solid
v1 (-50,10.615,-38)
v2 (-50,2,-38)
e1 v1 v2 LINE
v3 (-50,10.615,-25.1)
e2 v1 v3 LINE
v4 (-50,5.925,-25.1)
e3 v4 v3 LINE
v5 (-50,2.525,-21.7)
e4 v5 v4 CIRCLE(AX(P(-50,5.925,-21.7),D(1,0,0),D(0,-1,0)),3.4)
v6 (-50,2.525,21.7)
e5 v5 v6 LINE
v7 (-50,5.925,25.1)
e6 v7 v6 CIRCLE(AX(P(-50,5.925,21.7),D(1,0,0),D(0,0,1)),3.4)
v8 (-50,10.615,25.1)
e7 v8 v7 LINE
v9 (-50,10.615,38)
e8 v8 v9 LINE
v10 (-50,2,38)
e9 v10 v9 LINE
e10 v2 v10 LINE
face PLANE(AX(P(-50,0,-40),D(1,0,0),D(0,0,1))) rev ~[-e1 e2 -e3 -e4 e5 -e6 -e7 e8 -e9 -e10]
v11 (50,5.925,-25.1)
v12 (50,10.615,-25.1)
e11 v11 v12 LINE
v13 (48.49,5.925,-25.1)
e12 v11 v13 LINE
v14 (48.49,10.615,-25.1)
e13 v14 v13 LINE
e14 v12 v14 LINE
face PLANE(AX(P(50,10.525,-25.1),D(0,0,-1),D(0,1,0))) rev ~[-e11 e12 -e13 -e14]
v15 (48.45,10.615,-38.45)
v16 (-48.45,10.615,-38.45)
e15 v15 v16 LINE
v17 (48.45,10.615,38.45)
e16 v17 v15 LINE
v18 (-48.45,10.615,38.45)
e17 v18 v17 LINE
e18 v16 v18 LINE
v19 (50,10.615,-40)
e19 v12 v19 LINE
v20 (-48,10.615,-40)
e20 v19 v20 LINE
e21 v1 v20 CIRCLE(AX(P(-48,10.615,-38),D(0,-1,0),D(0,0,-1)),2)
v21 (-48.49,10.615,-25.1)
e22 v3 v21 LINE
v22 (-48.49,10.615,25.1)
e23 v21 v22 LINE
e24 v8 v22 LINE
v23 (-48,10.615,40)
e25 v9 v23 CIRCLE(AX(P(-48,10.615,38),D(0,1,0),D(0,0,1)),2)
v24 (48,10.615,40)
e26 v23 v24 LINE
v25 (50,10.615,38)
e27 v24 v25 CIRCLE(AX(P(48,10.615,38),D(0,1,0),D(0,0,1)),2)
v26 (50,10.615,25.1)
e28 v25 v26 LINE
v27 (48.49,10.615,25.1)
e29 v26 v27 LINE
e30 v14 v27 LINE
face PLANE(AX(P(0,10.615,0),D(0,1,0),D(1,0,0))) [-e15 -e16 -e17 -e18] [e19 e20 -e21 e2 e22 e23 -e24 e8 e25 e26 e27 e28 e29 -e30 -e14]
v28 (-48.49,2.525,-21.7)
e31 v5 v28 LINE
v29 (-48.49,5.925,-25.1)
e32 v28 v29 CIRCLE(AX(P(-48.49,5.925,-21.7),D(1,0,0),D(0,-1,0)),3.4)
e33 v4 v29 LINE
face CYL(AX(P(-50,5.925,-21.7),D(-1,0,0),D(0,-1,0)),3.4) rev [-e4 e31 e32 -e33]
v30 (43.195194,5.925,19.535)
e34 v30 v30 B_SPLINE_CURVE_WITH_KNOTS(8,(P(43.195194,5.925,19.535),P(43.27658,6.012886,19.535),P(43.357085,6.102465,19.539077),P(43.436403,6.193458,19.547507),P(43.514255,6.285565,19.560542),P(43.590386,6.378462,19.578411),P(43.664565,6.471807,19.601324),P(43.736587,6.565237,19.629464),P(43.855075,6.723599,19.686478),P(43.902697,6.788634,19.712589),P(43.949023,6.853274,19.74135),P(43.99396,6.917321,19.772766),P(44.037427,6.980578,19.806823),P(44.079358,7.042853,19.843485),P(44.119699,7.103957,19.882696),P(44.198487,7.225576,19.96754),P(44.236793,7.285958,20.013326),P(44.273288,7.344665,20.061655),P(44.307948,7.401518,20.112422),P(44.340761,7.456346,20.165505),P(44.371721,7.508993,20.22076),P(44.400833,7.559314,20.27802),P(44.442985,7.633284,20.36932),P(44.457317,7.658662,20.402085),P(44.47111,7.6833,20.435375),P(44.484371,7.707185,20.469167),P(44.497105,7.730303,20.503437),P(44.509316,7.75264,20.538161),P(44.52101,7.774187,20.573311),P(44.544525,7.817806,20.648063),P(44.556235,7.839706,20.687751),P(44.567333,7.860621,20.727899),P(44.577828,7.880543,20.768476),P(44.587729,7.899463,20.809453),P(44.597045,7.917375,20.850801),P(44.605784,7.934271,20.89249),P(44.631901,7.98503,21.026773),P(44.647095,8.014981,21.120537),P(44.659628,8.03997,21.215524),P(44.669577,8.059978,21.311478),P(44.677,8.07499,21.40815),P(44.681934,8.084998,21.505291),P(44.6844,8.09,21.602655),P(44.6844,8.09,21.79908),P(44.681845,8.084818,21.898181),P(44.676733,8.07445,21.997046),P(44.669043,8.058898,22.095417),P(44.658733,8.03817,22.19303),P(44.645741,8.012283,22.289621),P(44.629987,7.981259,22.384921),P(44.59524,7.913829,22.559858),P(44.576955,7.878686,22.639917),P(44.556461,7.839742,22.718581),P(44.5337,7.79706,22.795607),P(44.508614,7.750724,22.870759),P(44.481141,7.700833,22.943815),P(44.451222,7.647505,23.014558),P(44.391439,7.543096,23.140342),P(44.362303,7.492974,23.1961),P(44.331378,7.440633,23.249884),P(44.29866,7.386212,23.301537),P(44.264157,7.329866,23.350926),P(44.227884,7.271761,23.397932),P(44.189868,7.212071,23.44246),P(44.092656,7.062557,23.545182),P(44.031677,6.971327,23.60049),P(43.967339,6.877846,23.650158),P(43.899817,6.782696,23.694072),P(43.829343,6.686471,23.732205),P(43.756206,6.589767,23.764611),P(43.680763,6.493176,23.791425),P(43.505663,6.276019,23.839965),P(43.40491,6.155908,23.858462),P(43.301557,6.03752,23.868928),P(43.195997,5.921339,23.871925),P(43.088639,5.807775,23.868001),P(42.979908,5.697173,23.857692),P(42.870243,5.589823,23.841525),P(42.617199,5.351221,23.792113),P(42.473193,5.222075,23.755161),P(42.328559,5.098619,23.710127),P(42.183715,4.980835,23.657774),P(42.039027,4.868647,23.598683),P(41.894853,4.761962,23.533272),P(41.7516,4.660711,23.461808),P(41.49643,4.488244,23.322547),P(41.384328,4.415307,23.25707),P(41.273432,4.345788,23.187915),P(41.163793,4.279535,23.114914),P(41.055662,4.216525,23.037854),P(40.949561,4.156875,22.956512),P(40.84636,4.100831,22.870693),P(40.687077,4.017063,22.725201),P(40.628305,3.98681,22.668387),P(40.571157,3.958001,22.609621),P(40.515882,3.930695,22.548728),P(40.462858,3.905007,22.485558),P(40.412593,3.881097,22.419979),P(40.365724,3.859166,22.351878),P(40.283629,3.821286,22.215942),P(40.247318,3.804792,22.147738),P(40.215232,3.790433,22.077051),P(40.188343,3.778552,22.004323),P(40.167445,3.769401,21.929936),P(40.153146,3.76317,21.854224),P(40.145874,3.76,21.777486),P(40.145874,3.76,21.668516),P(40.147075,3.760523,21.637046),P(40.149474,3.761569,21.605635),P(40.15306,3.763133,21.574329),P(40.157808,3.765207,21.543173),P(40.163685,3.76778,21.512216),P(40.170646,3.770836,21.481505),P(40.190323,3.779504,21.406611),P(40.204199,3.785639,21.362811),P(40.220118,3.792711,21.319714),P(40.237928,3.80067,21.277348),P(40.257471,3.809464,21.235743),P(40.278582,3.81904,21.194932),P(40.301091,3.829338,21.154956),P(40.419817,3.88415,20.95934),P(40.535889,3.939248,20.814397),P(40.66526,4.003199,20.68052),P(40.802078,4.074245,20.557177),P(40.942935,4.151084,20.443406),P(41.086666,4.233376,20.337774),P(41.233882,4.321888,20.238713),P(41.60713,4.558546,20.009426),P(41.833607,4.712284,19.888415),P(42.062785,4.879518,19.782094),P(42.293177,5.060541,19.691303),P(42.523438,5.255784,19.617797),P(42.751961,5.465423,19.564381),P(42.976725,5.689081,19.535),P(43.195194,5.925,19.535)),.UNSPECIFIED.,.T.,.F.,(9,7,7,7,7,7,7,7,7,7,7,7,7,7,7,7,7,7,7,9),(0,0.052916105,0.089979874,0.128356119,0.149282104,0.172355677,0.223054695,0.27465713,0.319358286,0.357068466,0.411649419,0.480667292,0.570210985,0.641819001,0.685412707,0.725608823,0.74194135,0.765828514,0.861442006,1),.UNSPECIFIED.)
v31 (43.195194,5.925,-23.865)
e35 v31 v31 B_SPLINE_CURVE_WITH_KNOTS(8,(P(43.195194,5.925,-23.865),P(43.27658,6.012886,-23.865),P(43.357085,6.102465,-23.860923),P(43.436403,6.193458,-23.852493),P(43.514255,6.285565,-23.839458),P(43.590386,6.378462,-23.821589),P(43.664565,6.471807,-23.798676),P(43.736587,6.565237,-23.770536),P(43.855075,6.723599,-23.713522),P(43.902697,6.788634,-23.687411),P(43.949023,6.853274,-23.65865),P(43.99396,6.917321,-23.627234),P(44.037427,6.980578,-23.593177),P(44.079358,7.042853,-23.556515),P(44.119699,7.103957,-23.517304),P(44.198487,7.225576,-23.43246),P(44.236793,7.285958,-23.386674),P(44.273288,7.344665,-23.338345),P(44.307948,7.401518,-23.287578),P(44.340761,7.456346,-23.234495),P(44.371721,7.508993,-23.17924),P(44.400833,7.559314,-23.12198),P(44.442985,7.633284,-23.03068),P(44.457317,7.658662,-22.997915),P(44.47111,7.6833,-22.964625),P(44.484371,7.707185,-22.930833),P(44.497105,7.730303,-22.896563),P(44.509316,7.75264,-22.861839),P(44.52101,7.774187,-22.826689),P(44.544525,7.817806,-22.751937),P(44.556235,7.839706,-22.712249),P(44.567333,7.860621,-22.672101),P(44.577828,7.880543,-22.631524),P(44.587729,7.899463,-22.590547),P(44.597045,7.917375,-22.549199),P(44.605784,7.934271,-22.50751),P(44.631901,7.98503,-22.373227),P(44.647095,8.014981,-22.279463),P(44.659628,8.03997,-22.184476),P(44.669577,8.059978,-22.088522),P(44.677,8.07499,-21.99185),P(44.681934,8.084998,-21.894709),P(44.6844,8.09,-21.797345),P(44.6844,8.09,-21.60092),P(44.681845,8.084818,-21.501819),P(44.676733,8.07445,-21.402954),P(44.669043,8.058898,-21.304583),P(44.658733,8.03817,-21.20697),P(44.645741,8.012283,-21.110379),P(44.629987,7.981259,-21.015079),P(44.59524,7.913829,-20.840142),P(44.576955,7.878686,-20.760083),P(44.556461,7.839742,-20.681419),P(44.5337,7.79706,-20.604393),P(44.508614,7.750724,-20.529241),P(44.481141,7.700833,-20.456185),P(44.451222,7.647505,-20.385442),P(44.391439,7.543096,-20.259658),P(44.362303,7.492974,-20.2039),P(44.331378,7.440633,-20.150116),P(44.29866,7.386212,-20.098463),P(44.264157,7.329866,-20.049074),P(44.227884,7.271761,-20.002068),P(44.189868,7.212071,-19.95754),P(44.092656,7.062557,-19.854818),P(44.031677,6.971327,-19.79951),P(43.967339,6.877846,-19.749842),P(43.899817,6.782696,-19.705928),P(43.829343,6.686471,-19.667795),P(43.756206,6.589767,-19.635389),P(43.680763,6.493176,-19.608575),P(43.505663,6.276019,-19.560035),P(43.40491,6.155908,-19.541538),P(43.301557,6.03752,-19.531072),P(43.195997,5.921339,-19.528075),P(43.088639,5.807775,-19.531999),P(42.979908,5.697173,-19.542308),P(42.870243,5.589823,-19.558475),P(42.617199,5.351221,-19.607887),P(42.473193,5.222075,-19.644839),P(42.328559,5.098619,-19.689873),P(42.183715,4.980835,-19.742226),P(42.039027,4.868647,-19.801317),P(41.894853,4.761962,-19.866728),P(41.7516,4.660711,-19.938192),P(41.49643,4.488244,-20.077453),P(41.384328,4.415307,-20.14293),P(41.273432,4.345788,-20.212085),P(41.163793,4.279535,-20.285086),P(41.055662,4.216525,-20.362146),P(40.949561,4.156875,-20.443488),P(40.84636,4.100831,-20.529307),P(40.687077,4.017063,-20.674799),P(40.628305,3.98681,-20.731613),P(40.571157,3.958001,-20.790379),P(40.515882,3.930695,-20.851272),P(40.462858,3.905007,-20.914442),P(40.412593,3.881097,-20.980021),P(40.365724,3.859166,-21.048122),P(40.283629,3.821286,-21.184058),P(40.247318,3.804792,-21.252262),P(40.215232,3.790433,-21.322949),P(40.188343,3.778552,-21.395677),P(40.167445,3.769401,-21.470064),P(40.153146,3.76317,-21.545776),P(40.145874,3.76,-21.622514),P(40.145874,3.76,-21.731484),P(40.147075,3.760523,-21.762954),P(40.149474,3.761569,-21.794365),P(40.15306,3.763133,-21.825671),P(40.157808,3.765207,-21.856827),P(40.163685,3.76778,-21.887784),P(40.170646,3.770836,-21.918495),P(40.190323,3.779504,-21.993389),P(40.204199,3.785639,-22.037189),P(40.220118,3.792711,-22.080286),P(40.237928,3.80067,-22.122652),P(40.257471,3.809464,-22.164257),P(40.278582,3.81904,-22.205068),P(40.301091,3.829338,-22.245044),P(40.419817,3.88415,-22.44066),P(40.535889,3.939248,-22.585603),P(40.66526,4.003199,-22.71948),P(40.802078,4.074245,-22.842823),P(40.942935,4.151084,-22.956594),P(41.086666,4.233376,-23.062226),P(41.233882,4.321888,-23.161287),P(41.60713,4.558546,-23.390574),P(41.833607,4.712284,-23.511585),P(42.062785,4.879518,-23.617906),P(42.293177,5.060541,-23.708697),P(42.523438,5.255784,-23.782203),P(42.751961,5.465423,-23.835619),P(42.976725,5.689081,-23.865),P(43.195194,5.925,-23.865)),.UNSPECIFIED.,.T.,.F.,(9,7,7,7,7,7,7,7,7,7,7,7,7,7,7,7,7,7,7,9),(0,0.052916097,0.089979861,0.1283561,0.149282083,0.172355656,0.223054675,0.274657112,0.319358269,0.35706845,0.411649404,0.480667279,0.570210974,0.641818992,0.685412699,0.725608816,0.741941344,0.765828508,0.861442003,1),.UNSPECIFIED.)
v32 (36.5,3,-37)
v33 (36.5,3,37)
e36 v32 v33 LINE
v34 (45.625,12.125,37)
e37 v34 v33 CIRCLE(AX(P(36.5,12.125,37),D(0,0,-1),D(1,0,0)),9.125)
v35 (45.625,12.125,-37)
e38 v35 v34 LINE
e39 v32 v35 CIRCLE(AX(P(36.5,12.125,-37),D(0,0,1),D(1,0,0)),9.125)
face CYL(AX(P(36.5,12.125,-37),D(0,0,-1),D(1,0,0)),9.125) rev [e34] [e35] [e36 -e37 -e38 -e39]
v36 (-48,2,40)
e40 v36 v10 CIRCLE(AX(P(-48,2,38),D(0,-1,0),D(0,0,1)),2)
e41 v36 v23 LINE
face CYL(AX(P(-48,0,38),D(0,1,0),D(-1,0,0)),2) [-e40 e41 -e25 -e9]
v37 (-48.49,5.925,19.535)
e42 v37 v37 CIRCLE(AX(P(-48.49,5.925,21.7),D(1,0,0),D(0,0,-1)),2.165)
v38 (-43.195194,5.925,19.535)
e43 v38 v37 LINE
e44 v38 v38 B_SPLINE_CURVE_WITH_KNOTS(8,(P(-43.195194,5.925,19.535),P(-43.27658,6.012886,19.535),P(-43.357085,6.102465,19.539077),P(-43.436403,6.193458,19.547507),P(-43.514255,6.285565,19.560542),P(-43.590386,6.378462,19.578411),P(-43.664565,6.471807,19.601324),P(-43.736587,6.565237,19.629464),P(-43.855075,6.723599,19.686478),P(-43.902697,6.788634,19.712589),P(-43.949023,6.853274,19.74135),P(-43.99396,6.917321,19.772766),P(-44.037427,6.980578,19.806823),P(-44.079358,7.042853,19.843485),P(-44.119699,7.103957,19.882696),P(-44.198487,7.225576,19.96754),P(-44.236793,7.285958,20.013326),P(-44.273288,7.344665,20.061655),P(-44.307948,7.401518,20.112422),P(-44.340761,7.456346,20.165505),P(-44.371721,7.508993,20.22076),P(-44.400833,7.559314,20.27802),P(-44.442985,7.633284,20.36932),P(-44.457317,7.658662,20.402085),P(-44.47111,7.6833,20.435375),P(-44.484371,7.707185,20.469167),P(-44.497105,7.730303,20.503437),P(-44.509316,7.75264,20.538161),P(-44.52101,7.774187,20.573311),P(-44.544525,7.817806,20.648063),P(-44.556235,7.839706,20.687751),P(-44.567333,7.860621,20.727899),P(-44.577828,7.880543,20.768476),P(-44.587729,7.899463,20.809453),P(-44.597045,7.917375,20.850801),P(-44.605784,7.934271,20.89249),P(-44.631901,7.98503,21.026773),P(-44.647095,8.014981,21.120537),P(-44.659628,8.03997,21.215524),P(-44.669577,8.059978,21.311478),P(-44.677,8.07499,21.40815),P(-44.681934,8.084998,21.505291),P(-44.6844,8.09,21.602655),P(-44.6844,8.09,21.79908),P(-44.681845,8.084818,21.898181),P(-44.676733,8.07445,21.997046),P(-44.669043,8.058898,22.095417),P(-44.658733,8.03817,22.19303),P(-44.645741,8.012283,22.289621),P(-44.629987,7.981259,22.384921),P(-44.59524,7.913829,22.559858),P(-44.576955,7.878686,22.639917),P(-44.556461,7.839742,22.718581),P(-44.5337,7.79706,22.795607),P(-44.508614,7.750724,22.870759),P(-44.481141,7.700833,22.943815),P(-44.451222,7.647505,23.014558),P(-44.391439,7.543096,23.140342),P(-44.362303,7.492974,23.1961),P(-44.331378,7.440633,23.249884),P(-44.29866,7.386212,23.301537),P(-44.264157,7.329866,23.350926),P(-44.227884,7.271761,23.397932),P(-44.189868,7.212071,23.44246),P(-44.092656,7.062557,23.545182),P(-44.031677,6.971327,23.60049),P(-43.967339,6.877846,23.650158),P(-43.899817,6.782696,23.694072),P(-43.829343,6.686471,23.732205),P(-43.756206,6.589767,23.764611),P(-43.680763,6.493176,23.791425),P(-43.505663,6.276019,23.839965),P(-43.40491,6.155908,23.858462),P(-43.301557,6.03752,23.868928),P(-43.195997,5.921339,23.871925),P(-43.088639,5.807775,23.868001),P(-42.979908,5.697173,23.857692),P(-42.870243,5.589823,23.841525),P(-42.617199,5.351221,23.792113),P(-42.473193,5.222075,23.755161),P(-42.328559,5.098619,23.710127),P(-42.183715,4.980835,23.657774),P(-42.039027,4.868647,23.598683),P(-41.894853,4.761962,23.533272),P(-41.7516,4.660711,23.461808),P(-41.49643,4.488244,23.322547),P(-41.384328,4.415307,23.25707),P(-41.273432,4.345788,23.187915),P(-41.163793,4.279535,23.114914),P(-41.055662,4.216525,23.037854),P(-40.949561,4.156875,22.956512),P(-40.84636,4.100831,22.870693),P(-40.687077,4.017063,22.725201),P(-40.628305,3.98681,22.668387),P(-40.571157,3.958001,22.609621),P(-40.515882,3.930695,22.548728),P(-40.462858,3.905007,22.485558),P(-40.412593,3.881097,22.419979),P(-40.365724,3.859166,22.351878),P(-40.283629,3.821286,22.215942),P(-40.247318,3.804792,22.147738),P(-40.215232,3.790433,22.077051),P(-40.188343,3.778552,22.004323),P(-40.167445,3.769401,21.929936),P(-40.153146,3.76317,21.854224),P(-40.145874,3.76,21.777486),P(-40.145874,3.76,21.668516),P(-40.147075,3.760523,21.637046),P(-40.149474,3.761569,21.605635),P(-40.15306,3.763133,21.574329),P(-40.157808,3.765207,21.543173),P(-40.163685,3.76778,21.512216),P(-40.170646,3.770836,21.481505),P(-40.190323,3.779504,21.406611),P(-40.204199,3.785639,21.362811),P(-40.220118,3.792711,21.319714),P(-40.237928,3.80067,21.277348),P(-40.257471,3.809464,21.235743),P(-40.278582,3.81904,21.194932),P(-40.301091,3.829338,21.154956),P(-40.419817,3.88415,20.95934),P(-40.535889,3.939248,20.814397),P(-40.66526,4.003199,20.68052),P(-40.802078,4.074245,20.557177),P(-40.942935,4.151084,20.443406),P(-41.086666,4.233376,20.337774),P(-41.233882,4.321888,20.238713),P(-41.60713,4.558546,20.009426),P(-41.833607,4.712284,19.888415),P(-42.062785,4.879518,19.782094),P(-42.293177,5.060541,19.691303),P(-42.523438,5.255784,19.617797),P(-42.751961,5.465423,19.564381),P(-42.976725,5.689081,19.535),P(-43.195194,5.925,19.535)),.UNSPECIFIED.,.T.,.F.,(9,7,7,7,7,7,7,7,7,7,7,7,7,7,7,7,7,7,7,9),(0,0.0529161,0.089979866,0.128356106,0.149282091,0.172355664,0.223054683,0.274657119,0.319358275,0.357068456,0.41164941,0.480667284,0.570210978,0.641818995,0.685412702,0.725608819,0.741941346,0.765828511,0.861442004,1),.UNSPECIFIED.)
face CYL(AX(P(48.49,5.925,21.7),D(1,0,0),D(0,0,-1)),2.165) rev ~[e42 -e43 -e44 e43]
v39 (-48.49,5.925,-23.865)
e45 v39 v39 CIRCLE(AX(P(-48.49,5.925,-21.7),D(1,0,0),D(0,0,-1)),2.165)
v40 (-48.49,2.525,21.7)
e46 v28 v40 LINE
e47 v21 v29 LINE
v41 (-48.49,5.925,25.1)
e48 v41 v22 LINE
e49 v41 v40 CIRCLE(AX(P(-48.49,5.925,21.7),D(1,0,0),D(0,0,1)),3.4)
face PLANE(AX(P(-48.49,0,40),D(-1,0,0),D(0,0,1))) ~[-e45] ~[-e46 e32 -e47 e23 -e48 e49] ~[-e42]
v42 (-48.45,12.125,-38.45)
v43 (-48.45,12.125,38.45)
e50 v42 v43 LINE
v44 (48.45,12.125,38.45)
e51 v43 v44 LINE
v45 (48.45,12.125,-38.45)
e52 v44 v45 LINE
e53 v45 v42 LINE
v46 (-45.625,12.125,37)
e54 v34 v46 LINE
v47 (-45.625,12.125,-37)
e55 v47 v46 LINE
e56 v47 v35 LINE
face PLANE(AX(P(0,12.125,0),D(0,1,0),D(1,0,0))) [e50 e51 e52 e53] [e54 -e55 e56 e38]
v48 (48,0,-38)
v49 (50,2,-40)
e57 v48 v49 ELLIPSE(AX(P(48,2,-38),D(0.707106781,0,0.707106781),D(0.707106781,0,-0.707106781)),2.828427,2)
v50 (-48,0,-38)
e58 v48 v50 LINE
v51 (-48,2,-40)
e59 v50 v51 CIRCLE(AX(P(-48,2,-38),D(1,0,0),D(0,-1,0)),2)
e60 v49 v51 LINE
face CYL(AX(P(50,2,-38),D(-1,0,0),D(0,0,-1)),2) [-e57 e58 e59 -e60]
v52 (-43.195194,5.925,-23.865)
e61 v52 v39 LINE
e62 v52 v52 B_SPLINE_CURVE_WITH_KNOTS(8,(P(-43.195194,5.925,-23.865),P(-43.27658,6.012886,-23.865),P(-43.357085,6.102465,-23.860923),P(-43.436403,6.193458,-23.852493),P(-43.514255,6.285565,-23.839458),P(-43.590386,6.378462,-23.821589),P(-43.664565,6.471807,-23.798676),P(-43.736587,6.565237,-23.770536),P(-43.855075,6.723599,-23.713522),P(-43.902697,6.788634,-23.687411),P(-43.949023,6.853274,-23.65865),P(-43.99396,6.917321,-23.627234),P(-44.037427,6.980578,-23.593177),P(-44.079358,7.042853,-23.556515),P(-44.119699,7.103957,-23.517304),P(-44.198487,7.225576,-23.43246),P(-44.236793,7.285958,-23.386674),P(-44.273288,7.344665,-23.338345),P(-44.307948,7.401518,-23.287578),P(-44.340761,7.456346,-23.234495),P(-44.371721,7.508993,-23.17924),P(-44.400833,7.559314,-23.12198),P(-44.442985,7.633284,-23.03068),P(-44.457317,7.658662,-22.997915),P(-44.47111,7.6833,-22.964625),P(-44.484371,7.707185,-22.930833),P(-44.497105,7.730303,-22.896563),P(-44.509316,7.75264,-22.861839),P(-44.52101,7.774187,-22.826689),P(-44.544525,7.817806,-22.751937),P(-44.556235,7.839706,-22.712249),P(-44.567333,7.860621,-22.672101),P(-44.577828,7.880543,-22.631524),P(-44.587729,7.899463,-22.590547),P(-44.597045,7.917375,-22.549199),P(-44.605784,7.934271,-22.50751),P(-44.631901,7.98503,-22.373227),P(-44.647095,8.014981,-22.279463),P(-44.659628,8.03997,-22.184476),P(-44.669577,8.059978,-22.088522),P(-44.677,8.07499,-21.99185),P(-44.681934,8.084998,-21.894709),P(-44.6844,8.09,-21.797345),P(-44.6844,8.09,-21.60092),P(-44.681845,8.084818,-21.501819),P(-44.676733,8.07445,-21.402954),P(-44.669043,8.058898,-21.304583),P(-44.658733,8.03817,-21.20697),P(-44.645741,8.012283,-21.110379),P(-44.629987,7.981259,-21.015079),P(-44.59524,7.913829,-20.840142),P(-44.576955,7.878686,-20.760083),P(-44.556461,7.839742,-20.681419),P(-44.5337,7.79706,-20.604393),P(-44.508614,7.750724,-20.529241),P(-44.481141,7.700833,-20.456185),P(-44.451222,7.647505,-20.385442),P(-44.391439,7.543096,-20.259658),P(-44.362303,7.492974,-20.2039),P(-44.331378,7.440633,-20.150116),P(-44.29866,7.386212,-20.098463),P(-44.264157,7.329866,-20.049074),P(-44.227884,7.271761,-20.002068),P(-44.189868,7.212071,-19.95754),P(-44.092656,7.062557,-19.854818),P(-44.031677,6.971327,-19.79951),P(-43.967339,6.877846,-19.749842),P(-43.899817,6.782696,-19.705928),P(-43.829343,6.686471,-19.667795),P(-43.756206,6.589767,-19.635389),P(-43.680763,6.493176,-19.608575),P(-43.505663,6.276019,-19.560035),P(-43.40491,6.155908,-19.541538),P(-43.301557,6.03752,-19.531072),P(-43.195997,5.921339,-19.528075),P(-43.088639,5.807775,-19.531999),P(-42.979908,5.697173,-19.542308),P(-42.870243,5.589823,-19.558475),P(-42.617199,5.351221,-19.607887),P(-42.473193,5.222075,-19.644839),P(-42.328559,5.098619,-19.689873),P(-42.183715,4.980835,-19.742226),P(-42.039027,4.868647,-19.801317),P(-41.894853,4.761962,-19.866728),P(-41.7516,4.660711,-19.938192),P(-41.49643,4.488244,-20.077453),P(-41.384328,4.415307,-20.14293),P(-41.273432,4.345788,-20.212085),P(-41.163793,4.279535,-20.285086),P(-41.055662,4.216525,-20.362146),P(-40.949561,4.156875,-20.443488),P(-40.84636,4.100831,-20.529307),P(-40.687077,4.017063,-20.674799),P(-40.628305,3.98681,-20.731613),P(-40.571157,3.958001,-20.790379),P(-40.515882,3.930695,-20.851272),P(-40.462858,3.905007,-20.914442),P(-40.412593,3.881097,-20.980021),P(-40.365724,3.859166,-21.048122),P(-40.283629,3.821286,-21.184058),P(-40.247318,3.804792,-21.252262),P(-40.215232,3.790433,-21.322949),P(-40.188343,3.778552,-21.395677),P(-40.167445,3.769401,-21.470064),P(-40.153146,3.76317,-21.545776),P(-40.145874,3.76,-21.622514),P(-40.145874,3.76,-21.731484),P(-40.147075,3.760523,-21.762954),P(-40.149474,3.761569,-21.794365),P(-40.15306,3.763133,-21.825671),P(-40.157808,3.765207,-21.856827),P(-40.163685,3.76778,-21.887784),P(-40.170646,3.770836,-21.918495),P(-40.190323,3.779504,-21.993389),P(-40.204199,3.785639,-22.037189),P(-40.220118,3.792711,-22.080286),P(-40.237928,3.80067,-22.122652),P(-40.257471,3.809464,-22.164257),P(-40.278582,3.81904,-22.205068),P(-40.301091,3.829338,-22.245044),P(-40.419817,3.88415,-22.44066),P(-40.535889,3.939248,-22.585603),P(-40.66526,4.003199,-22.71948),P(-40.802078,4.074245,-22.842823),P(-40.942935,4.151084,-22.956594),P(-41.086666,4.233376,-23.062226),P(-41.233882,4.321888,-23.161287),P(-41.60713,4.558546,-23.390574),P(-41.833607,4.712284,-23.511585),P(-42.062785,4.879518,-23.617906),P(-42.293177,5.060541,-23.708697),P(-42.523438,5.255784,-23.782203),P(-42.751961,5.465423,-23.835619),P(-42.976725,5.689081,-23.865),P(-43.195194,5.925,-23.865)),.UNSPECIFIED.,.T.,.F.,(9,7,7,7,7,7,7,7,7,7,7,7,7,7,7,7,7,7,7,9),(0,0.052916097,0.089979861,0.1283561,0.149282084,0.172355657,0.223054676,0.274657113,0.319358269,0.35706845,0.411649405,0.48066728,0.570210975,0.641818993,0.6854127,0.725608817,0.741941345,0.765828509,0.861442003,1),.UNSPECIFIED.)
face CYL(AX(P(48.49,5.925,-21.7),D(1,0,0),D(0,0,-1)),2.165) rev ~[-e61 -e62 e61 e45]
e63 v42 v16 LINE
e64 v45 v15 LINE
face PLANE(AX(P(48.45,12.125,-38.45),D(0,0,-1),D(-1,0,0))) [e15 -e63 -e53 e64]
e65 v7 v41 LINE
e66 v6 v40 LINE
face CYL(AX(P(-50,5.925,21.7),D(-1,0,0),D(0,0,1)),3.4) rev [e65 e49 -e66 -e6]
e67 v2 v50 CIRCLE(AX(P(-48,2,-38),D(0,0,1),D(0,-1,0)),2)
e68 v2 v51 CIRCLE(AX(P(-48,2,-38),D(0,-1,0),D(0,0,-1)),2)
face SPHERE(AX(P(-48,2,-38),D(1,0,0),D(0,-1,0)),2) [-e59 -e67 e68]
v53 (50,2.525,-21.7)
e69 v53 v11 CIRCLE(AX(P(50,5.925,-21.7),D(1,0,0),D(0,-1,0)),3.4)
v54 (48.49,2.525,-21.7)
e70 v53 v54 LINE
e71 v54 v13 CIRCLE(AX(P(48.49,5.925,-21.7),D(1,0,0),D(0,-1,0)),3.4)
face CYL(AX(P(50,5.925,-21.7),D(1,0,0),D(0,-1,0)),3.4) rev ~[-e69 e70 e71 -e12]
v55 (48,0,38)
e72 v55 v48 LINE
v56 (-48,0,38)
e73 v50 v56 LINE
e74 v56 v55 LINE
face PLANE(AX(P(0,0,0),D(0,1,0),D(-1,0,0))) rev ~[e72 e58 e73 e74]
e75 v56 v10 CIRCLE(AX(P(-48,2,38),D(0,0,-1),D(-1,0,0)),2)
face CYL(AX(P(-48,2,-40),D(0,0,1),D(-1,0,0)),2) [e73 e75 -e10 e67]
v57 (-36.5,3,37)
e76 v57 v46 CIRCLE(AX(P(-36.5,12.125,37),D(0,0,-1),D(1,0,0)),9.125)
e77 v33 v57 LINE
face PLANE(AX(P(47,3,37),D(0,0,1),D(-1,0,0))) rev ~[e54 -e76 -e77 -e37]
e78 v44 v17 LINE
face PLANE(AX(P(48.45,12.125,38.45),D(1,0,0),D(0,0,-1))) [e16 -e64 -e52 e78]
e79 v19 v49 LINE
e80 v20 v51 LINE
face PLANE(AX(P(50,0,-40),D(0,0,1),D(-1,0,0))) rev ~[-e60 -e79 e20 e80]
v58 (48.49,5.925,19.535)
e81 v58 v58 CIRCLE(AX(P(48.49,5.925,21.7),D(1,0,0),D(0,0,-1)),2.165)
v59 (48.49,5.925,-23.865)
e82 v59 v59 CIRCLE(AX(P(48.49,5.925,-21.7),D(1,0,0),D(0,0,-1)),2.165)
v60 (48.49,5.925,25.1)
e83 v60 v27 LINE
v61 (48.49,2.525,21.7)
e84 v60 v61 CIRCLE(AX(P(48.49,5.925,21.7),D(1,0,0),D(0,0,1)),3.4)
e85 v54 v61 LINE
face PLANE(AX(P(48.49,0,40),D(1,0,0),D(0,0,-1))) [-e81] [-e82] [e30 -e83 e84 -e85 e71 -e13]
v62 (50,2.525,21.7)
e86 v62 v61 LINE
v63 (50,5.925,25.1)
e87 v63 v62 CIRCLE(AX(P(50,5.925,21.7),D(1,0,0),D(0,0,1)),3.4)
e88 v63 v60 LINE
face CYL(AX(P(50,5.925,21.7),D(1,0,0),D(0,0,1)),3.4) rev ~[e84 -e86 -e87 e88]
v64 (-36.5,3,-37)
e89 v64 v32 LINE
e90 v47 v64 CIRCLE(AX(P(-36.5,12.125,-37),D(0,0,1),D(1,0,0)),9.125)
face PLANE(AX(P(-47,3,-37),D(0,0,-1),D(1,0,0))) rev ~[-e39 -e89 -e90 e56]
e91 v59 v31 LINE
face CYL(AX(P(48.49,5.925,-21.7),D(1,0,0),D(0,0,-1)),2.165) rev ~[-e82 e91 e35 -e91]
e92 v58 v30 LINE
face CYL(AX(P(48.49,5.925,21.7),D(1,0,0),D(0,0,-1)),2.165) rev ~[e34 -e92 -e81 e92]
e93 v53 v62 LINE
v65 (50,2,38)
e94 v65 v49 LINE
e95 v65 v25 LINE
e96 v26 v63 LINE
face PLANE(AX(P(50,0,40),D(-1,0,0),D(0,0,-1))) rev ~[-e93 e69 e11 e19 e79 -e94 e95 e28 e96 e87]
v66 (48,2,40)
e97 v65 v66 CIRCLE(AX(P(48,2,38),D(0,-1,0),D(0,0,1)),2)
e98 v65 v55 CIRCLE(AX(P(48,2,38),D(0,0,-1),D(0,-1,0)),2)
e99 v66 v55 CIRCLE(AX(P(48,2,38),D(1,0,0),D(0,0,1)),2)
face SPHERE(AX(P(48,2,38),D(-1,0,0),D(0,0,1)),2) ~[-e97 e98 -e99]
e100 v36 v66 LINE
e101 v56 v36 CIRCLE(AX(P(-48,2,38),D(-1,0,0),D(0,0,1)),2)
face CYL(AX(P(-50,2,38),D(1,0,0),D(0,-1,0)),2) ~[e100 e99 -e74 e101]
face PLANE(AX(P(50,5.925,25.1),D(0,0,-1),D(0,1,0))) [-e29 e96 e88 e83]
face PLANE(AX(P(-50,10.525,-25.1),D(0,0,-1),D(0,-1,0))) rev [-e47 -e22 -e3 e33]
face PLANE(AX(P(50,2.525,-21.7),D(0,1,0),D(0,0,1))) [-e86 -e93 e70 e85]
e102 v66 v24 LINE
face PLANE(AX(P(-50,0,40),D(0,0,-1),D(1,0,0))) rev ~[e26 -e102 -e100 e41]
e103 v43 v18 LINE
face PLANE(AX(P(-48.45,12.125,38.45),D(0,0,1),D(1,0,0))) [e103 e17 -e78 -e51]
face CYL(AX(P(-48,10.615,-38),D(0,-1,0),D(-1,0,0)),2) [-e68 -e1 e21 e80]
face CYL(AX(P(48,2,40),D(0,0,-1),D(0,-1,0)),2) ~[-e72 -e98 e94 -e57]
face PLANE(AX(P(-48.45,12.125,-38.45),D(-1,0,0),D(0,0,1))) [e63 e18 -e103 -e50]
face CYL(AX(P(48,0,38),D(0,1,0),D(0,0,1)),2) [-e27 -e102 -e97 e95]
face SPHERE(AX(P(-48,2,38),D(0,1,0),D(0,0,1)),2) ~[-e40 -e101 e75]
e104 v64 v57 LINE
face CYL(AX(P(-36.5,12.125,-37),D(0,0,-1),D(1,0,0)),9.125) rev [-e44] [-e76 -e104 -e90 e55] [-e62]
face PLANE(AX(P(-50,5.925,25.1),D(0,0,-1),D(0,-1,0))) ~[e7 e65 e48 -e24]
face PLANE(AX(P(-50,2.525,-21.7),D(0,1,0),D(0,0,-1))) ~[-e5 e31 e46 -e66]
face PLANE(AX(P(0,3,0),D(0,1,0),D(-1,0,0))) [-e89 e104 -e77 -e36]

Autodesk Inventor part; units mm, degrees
ref_plane "YZ Plane" through (0, 0, 0) normal (1, 0, 0) x (0, 1, 0)
ref_plane "XZ Plane" through (0, 0, 0) normal (0, 1, 0) x (-1, 0, 0)
ref_plane "XY Plane" through (0, 0, 0) normal (0, 0, 1) x (1, 0, 0)
sketch "草圖1" plane through (0, 0, 0) normal (0, 1, 0) x (-1, 0, 0)
  line L0 (50, 40) -> (-50, 40)
  line L1 (-50, 40) -> (-50, -40)
  line L2 (-50, -40) -> (50, -40)
  line L3 (50, -40) -> (50, 40)
  line L4 (50, 40) -> (-50, -40) construction
  line L5 (-50, 40) -> (50, -40) construction
  point P0 (0, 0)
  dimension "d0" = 100
  dimension "d1" = 80
extrude "擠出1" add sketch "草圖1" along normal blind 3
sketch "草圖2" plane through (0, 3, 0) normal (0, 1, 0) x (1, 0, 0)
  line L0 (50, -40) -> (50, 40) projected
  line L1 (50, 40) -> (-50, 40) projected
  line L2 (-50, 40) -> (-50, -40) projected
  line L3 (-50, -40) -> (50, -40) projected
  line L4 (-47, -37) -> (-47, 37)
  line L5 (-47, 37) -> (47, 37)
  line L6 (47, 37) -> (47, -37)
  line L7 (47, -37) -> (-47, -37)
  point P0 (0, 0)
  dimension "d4" = 3
extrude "擠出2" add sketch "草圖2" along normal blind 9.125
sketch "草圖3" plane through (-47, 3, -37) normal (0, 0, 1) x (1, 0, 0)
  line L0 (94, 0) -> (0, 0) projected
  line L1 (94, 0) -> (94, 9.125) projected
  line L2 (0, 9.125) -> (94, 9.125) projected
  line L3 (0, 0) -> (0, 9.125) projected
  circle A0 centre (10.5, 9.125) radius 9.125
  circle A1 centre (28.75, 9.125) radius 9.125
  circle A2 centre (47, 9.125) radius 9.125
  circle A3 centre (65.25, 9.125) radius 9.125
  circle A4 centre (83.5, 9.125) radius 9.125
  point P0 (47, -3)
  point P1 (92.625, 9.125)
  point P2 (83.5, 0)
  point P3 (10.5, 0)
  point P4 (1.375, 9.125)
  dimension "d7" = 18.25
  dimension "d11" = 18.25
  dimension "d16" = 10.5
extrude "擠出3" add sketch "草圖3" along normal through all contours L0 A4 L2 L1 | L0 L3 L2 A0
sketch "草圖4" plane through (0, 12.125, 0) normal (0, 1, 0) x (1, 0, 0)
  line L0 (-50, -40) -> (50, -40) projected
  line L1 (50, -40) -> (50, 40) projected
  line L2 (50, 40) -> (-50, 40) projected
  line L3 (-50, 40) -> (-50, -40) projected
  line L4 (45.625, -37) -> (-45.625, -37) projected
  line L5 (-45.625, 37) -> (-45.625, -37) projected
  line L6 (-45.625, 37) -> (45.625, 37) projected
  line L7 (45.625, 37) -> (45.625, -37) projected
  line L8 (48.5, -38.5) -> (-48.5, -38.5)
  line L9 (-48.5, -38.5) -> (-48.5, 38.5)
  line L10 (-48.5, 38.5) -> (48.5, 38.5)
  line L11 (48.5, 38.5) -> (48.5, -38.5)
  line L12 (-48.45, -38.45) -> (48.45, -38.45)
  line L13 (48.45, -38.45) -> (48.45, 38.45)
  line L14 (48.45, 38.45) -> (-48.45, 38.45)
  line L15 (-48.45, 38.45) -> (-48.45, -38.45)
  point P0 (0, 0)
  dimension "d19" = 1.5
  dimension "d20" = 0.05
extrude "擠出4" cut sketch "草圖4" against normal blind 1.51 contours L3 L2 L1 L0 | L8 L9 L10 L11
sketch "草圖5" plane through (50, 0, 40) normal (1, 0, 0) x (0, 0, -1)
  circle A0 centre (18.3, 5.925) radius 1.65 projected
  circle A1 centre (61.7, 5.925) radius 1.65 projected
  line L0 (28.79, 21.325) -> (15, 21.325) projected
  line L1 (15, 21.325) -> (15, 27.625) projected
  line L2 (15, 27.625) -> (28.79, 27.625) projected
  line L3 (28.79, 27.625) -> (28.79, 21.325) projected
  line L4 (51.21, 21.325) -> (51.21, 27.625) projected
  line L5 (51.21, 27.625) -> (65, 27.625) projected
  line L6 (65, 27.625) -> (65, 21.325) projected
  line L7 (65, 21.325) -> (51.21, 21.325) projected
  line L8 (15, 10.625) -> (2, 10.625) projected
  line L9 (15, 10.625) -> (15, 5.925) projected
  arc A2 (15, 5.925) -> (18.3, 2.625) centre (18.3, 5.925) ccw projected
  line L10 (18.3, 2.625) -> (61.7, 2.625) projected
  arc A3 (61.7, 2.625) -> (65, 5.925) centre (61.7, 5.925) ccw projected
  line L11 (65, 5.925) -> (65, 10.625) projected
  line L12 (78, 10.625) -> (65, 10.625) projected
  line L13 (15, 10.625) -> (65, 10.625)
  line L14 (80, 10.615) -> (0, 10.615) projected
  arc A4 (14.9, 5.925) -> (18.3, 2.525) centre (18.3, 5.925) ccw
  line L15 (14.9, 5.925) -> (14.9, 10.525)
  line L16 (14.9, 10.525) -> (-0.1, 10.525)
  line L17 (-0.1, 10.525) -> (-0.1, 30.725)
  line L18 (-0.1, 30.725) -> (80.1, 30.725)
  line L19 (80.1, 30.725) -> (80.1, 10.525)
  line L20 (80.1, 10.525) -> (65.1, 10.525)
  line L21 (65.1, 10.525) -> (65.1, 5.925)
  arc A5 (61.7, 2.525) -> (65.1, 5.925) centre (61.7, 5.925) ccw
  line L22 (61.7, 2.525) -> (18.3, 2.525)
  line L23 (14.9, 10.525) -> (14.9, 10.615)
  line L24 (65.1, 10.525) -> (65.1, 10.615)
  line L25 (78, 28.625) -> (78, 10.625) projected
  line L26 (2, 10.625) -> (2, 28.625) projected
  line L27 (46.57, 28.625) -> (46.57, 21.325) projected
  line L28 (46.57, 21.325) -> (33.43, 21.325) projected
  line L29 (33.43, 21.325) -> (33.43, 28.625) projected
  line L30 (46.57, 28.625) -> (78, 28.625) projected
  line L31 (2, 28.625) -> (33.43, 28.625) projected
  point P0 (40, 0)
  dimension "d23" = 0.1
extrude "擠出5" cut sketch "草圖5" against normal blind 1.51 contours A0 | A1 | L14 L11 A3 L10 A2 L9 | L9 A2 L10 A3 L11 L14 L24 L21 A5 L22 A4 L15 L23
mirror "鏡射1" about plane through (0, 0, 0) normal (1, 0, 0) of "擠出5"
sketch "草圖6" plane through (48.49, 0, 40) normal (1, 0, 0) x (0, 0, -1)
  circle A0 centre (18.3, 5.925) radius 1.65 projected
  circle A1 centre (61.7, 5.925) radius 1.65 projected
  circle A2 centre (18.3, 5.925) radius 2.165
  circle A3 centre (61.7, 5.925) radius 2.165
  point P0 (40, 0)
  dimension "d26" = 4.33
  dimension "d27" = 4.33
extrude "擠出6" cut sketch "草圖6" against normal through all contours A0 | A1 | A2 | A3
fillet "圓角1" radius 2 7 edges at (-50, 5.3075, 40) (0, 0, 40) (50, 5.3075, 40) (50, 0, 0) (0, 0, -40) (-50, 0, 0) (-50, 5.3075, -40)
properties part number "buttom case_3D 列印"
